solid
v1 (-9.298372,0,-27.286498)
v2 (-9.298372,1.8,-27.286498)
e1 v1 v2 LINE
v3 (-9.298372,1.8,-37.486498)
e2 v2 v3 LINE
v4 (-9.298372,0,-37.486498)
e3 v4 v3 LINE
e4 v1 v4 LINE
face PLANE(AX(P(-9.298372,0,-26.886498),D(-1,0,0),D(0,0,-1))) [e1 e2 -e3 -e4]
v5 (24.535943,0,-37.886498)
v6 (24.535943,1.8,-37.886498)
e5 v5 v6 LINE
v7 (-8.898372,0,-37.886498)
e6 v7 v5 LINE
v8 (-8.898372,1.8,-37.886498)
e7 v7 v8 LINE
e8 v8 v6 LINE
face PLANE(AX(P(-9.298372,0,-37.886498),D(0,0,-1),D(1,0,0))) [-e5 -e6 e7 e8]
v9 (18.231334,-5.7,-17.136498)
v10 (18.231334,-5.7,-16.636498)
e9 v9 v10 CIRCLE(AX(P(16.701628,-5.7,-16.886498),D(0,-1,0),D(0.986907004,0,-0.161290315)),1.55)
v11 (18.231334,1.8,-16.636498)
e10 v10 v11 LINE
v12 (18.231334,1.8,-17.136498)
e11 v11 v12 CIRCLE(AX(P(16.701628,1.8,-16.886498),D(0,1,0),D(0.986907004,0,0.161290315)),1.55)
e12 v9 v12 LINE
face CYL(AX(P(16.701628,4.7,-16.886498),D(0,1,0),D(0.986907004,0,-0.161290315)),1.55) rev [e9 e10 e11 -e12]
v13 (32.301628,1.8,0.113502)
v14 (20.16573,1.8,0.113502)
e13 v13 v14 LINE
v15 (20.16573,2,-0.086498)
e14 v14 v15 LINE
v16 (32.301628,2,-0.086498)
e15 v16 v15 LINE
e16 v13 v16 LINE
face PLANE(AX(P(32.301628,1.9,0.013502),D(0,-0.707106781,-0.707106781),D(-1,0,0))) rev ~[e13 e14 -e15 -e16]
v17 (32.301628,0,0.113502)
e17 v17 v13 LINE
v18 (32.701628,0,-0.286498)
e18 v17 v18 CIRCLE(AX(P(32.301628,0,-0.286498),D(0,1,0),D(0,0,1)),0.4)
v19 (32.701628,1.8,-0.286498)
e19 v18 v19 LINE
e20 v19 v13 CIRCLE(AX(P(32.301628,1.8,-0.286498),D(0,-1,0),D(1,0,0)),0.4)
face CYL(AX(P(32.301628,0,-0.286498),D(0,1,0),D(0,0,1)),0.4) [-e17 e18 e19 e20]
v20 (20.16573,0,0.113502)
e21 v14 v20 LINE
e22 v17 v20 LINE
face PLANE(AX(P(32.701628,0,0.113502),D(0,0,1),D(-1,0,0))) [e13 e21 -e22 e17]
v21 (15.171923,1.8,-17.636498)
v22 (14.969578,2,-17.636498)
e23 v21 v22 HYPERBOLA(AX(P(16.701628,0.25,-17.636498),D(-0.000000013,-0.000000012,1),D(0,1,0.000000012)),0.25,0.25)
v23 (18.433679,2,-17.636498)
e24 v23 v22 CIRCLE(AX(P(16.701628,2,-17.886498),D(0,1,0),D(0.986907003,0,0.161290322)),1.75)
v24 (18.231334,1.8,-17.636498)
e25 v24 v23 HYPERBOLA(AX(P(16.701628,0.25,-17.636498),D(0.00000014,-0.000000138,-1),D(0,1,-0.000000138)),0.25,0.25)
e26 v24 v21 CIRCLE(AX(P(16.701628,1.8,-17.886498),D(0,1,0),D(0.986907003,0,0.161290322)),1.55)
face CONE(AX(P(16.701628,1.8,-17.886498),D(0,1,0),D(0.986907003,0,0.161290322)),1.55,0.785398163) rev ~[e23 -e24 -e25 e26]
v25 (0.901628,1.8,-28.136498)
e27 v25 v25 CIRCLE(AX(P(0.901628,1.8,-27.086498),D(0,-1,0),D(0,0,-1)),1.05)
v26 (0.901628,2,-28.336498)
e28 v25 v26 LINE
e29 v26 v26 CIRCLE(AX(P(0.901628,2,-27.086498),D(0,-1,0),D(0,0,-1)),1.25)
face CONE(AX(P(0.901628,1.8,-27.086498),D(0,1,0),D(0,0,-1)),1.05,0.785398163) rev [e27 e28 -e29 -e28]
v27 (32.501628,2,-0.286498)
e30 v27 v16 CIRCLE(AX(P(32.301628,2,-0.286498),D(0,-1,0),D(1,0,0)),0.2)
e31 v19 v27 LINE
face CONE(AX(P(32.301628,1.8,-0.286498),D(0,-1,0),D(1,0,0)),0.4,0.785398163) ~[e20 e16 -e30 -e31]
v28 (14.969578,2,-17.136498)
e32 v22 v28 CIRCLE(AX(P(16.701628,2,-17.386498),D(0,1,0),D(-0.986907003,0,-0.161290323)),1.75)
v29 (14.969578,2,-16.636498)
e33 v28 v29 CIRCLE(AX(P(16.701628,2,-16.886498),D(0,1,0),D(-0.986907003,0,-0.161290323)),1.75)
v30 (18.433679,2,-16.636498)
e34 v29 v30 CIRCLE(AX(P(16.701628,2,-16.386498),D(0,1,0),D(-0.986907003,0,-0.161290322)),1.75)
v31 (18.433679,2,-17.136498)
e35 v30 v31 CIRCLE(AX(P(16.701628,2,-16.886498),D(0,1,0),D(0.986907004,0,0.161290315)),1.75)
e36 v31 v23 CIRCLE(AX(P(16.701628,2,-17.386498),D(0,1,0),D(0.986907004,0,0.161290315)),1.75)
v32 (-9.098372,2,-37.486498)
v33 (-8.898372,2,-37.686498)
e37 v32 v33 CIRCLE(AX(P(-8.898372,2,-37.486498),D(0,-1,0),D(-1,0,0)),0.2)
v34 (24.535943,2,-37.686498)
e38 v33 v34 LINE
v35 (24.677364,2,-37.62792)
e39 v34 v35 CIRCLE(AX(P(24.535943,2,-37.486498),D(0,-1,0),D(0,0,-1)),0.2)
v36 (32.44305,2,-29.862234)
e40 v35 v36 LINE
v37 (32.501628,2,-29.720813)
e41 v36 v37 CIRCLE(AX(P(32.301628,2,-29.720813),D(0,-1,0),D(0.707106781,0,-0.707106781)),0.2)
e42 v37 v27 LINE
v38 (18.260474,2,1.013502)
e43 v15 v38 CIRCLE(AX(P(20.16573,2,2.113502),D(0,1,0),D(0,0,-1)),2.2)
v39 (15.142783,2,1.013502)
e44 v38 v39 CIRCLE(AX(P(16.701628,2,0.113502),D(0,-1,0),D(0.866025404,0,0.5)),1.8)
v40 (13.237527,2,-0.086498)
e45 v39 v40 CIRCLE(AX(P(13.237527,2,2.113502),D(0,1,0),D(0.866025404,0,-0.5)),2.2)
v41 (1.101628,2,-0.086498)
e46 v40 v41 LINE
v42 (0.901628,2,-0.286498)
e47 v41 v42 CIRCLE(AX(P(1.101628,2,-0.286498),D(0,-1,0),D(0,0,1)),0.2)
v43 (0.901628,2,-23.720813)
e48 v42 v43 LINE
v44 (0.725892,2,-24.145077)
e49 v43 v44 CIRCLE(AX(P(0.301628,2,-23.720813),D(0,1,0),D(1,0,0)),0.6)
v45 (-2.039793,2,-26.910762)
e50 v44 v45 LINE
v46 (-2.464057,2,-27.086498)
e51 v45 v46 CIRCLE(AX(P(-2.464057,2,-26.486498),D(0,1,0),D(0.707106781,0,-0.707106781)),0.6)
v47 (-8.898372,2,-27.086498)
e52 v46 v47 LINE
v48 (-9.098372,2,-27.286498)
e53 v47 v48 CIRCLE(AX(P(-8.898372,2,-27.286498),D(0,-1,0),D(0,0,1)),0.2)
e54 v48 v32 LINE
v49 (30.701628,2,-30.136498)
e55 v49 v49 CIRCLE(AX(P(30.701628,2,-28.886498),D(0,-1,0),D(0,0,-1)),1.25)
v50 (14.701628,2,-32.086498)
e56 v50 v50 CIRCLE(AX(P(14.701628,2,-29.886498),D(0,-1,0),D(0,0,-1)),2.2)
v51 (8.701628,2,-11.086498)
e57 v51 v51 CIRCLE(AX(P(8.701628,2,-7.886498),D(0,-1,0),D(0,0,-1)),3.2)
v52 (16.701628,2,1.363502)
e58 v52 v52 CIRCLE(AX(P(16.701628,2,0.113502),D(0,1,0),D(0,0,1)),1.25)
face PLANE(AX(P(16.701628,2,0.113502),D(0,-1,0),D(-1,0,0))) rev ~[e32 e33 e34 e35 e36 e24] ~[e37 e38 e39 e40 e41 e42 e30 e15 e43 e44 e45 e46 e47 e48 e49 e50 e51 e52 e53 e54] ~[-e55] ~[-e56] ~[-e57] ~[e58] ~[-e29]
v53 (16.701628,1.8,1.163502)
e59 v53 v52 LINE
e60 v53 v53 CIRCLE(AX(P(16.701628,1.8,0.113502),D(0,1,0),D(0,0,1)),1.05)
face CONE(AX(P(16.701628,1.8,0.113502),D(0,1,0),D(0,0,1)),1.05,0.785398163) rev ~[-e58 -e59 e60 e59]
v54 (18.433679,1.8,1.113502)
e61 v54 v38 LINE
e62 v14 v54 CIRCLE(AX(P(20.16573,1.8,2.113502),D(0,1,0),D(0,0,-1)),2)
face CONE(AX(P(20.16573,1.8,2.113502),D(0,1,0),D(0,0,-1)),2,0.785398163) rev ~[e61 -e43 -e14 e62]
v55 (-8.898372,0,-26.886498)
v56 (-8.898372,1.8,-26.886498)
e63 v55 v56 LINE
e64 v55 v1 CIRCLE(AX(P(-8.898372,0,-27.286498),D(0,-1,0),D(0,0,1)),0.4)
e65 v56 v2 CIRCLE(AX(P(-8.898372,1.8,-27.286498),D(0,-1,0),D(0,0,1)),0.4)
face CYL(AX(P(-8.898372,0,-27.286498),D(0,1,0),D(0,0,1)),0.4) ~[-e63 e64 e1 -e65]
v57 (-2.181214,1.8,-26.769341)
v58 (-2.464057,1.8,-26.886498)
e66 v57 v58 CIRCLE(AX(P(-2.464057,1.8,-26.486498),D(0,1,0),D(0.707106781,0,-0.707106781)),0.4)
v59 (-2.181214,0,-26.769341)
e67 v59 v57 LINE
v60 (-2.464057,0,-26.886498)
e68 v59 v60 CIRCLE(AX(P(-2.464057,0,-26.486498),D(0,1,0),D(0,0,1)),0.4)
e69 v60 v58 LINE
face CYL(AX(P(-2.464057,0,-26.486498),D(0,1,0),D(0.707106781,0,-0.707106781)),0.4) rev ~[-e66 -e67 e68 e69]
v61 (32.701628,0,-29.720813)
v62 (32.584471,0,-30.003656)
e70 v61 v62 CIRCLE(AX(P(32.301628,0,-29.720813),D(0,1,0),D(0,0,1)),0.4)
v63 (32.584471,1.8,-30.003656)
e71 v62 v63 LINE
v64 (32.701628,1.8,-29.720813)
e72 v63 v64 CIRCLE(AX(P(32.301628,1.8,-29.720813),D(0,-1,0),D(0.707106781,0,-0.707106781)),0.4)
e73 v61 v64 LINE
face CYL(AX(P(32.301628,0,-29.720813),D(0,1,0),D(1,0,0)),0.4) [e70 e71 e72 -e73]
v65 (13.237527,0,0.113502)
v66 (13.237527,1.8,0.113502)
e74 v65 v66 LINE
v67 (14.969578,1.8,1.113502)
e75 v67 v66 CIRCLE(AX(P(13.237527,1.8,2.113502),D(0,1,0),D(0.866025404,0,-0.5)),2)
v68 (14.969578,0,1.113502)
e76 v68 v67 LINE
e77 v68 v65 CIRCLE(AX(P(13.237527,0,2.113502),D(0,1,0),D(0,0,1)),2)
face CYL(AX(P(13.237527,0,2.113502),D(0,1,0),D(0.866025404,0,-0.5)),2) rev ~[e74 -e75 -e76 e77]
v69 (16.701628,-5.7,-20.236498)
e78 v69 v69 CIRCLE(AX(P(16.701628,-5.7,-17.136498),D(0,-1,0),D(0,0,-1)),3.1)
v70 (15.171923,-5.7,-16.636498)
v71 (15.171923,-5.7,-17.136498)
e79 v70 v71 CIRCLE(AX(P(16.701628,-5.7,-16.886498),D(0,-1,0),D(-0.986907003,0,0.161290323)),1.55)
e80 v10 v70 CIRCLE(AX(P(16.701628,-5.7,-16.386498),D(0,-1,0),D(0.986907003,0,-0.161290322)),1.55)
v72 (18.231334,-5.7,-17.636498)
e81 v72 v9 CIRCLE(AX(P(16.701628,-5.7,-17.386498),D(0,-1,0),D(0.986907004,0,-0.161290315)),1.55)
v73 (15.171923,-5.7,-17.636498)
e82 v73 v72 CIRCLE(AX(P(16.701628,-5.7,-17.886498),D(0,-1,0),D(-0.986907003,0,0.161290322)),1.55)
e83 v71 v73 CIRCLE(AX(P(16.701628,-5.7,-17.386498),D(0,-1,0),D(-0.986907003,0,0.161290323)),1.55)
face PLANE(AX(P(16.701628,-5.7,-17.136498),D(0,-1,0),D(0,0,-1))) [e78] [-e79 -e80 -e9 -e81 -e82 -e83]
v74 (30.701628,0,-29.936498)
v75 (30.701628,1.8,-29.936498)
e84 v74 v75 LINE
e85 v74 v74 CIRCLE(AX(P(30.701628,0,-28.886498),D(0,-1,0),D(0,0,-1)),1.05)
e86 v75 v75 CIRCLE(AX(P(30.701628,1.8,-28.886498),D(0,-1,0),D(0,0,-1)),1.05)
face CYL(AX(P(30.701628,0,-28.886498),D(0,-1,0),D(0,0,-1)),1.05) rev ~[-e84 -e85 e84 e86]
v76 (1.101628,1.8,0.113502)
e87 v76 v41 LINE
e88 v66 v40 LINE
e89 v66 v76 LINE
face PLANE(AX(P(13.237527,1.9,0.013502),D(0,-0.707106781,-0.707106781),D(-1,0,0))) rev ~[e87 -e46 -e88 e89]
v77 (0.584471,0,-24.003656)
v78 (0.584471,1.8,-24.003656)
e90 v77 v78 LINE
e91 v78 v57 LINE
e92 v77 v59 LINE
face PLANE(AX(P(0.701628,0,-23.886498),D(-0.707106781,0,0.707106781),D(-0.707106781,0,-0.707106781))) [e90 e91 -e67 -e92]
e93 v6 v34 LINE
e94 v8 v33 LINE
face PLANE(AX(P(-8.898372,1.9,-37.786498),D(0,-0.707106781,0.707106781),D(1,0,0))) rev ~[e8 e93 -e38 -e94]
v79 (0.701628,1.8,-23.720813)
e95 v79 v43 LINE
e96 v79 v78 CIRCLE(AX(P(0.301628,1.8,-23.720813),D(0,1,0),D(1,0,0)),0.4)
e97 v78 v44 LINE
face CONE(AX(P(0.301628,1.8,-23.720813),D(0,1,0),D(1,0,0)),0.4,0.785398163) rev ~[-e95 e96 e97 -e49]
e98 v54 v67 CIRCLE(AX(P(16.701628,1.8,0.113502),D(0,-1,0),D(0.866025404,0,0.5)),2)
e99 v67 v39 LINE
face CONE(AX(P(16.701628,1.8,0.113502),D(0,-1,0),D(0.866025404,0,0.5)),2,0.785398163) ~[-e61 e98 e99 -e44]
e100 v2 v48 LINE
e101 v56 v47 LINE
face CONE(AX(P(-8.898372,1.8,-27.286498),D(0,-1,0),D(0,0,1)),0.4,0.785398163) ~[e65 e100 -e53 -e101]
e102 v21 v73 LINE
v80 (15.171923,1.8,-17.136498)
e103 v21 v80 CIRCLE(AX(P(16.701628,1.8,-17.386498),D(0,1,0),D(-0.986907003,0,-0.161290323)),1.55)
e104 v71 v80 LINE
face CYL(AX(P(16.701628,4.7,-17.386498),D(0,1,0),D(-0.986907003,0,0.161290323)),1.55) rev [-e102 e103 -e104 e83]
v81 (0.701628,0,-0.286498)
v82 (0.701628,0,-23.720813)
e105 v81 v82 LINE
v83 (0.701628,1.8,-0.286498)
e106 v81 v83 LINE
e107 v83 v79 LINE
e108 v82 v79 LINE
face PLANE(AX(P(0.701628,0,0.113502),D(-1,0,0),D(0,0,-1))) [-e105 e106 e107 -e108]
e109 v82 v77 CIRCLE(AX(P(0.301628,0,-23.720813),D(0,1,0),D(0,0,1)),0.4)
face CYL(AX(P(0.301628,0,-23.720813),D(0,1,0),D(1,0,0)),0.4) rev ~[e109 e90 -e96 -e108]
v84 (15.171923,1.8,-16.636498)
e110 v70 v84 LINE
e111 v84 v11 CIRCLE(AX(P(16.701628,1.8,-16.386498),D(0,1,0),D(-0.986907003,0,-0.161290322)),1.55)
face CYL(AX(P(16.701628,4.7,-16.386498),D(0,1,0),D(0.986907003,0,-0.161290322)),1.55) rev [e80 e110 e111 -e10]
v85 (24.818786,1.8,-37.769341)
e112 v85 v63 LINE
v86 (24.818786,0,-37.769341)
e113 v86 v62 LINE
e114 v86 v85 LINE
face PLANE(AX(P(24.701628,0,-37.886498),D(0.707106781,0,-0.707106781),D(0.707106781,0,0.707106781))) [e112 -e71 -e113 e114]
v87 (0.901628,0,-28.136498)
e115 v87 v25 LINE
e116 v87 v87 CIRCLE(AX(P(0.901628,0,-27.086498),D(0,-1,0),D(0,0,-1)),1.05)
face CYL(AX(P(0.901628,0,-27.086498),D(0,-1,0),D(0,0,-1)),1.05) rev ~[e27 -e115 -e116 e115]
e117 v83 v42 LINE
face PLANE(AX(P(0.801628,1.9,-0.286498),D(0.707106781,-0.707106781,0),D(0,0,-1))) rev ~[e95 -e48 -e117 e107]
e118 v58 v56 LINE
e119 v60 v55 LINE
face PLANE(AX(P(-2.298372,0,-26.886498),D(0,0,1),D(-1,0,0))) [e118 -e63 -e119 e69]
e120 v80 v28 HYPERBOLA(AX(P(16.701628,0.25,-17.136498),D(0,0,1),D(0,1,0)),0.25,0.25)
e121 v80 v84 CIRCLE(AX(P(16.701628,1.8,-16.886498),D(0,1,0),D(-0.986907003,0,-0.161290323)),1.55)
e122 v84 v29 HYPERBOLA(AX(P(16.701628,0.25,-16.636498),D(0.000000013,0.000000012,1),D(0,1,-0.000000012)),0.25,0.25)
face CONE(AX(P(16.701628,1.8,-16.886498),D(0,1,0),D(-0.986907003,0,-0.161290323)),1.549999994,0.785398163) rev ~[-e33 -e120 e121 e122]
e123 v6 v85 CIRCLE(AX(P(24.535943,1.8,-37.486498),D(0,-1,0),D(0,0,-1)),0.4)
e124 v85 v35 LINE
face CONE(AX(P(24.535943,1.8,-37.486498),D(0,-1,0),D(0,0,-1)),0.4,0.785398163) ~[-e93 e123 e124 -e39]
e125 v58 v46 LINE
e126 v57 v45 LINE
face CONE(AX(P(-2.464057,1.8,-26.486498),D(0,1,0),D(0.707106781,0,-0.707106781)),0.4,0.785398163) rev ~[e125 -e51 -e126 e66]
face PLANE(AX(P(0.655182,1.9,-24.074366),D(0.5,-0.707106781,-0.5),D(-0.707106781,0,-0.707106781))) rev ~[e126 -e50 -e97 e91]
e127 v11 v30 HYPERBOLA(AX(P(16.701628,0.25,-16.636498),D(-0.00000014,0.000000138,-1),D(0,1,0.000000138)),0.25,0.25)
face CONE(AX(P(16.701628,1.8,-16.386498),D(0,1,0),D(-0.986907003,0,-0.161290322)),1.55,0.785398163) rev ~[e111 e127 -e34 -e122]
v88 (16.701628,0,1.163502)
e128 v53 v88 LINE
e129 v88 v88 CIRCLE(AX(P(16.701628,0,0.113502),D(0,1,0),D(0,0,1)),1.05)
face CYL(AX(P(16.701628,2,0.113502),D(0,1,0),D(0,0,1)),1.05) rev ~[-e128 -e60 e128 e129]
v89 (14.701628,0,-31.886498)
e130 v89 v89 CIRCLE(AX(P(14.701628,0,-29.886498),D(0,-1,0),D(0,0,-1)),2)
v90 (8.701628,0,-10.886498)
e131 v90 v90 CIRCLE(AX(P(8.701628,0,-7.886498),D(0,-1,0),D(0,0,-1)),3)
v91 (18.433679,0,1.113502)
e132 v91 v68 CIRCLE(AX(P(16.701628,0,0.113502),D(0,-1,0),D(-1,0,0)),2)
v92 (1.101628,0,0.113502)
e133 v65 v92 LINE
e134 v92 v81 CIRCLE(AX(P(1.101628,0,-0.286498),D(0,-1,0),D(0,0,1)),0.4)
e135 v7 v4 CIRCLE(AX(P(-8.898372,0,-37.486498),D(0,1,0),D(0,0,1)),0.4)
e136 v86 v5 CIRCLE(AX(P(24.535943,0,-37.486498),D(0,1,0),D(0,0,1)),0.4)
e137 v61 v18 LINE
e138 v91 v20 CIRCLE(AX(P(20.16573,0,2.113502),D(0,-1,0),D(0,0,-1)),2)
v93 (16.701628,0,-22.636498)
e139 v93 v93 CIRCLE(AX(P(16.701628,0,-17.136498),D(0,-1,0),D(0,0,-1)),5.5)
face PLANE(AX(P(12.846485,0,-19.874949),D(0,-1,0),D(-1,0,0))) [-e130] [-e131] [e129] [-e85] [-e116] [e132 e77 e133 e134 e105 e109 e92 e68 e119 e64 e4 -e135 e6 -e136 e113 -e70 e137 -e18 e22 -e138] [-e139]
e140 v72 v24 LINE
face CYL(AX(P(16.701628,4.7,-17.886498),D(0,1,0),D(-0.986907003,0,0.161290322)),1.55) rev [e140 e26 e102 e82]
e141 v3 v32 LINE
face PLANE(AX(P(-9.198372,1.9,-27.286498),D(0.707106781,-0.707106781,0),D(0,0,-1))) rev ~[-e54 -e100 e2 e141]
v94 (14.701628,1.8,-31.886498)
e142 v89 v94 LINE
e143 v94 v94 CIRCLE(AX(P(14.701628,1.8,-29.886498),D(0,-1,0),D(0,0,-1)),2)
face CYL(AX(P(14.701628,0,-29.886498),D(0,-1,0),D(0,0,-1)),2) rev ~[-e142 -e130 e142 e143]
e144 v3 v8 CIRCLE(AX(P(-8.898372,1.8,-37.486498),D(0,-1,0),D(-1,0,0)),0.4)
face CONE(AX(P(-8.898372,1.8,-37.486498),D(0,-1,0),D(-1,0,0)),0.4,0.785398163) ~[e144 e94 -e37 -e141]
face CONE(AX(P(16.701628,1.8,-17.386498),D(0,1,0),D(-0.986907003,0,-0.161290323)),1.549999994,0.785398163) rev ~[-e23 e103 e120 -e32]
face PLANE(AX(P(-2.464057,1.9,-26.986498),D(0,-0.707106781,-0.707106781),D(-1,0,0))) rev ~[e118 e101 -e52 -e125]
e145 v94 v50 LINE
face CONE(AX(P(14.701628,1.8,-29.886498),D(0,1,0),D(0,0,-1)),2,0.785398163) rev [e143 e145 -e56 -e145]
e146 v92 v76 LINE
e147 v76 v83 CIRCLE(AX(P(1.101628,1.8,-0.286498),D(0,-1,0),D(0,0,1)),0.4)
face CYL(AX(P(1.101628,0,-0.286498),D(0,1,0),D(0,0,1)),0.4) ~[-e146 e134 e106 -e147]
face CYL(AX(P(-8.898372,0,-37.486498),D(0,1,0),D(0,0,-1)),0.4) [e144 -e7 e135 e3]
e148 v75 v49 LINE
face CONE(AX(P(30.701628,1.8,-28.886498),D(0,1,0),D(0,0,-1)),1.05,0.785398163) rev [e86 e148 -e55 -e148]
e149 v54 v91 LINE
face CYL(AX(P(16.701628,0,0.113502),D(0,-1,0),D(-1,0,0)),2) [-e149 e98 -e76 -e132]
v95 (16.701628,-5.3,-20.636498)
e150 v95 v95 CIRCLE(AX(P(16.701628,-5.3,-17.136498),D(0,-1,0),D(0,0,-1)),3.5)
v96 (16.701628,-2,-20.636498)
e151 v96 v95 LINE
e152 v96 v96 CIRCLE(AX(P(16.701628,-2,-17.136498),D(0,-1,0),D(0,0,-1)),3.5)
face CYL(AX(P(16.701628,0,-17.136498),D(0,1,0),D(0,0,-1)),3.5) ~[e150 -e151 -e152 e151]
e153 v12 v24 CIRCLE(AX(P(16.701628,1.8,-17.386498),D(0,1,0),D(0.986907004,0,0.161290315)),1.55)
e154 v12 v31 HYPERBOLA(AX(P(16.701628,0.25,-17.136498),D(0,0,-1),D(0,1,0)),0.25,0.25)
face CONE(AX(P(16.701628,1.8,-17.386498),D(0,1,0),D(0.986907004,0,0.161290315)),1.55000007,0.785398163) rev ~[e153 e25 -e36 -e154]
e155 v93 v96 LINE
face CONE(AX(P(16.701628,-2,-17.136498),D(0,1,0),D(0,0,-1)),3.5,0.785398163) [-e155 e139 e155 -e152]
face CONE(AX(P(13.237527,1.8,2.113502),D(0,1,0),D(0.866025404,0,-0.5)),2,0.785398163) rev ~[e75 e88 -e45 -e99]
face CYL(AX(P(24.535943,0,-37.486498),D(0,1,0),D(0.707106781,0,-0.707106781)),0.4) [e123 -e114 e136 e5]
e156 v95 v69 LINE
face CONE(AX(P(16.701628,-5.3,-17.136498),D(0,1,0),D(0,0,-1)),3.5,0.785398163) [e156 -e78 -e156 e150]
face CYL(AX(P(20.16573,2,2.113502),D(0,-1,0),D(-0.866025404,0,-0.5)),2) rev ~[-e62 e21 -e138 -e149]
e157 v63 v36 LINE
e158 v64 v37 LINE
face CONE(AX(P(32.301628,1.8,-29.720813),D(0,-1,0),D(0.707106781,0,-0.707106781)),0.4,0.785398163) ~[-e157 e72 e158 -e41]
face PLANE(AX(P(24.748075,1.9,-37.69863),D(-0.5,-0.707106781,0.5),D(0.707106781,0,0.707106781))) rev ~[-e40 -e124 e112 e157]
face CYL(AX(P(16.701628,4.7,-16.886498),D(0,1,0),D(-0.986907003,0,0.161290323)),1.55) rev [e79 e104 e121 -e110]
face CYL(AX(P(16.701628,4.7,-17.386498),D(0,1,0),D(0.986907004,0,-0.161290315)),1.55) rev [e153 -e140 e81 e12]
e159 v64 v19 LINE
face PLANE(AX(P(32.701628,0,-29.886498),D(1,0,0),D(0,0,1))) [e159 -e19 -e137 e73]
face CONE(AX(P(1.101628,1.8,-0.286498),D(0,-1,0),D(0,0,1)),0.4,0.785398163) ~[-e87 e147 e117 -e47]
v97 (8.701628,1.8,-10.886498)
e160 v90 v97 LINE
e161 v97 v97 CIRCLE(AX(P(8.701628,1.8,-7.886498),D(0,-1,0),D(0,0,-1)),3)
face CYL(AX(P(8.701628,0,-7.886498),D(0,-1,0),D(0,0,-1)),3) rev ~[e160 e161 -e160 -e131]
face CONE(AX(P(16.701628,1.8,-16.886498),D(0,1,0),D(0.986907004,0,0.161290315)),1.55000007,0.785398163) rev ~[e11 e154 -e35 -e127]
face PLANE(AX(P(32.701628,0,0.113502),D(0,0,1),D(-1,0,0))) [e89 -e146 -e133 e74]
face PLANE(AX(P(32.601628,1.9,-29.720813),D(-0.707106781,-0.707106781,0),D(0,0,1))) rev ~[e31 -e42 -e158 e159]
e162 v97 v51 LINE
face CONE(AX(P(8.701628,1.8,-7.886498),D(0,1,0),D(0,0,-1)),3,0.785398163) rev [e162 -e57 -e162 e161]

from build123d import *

# Parameters (mm, degrees)
EXTRUDE_1_DEPTH     = 2
SKETCH_2_R          = 3.5
EXTRUDE_2_DEPTH     = 5.7
CUT_EXTRUDE_START   = -4.7
CUT_EXTRUDE_1_DEPTH = 4.7
SKETCH_5_R          = 1.05
CUT_EXTRUDE_2_DEPTH = 10
SKETCH_6_R          = 2
EXTRUDE_3_DEPTH     = 2
FILLET_1_R          = 2
SKETCH_7_R          = 1.05
CUT_EXTRUDE_3_DEPTH = 2
FILLET_2_R          = 0.4
CHAMFER_1_SIZE      = 2
CHAMFER_2_SIZE      = 0.4
SKETCH_8_R          = 3
SKETCH_8_R_2        = 2
CUT_EXTRUDE_5_DEPTH = 51.37135361
CHAMFER_3_SIZE      = 0.2


with BuildPart() as part:
    # 草图1 → 凸台-拉伸1 (new body)
    with BuildSketch(Plane(origin=(0, 0, 0), x_dir=(1, 0, 0), z_dir=(0, 1, 0))):
        Polygon((0.701628422, -0.113501573), (0.701628422, 23.886498427), (-2.298371578, 26.886498427), (-9.298371578, 26.886498427), (-9.298371578, 37.886498427), (24.701628422, 37.886498427), (32.701628422, 29.886498427), (32.701628422, -0.113501573), align=None)
    extrude(amount=EXTRUDE_1_DEPTH)

    # 草图2 → 凸台-拉伸2 (add)
    with BuildSketch(Plane.XZ):
        with Locations(Location((16.701628422, -17.136498427, 0), (0, 0, 270))):
            Circle(SKETCH_2_R)
        with BuildLine():
            ThreePointArc((15.171922568, -17.636498427), (16.701628422, -19.436498427), (18.231334277, -17.636498427))
            ThreePointArc((18.231334277, -17.636498427), (18.251628422, -17.386498427), (18.231334277, -17.136498427))
            ThreePointArc((18.231334277, -17.136498427), (18.251628422, -16.886498427), (18.231334277, -16.636498427))
            ThreePointArc((18.231334277, -16.636498427), (16.701628422, -14.836498427), (15.171922568, -16.636498427))
            ThreePointArc((15.171922568, -16.636498427), (15.151628422, -16.886498427), (15.171922568, -17.136498427))
            ThreePointArc((15.171922568, -17.136498427), (15.151628422, -17.386498427), (15.171922568, -17.636498427))
        make_face(mode=Mode.SUBTRACT)
    extrude(amount=EXTRUDE_2_DEPTH)

    # 草图3 → 切除-拉伸1 (cut)
    with BuildSketch(Plane.XZ.offset(CUT_EXTRUDE_START)):
        with BuildLine():
            ThreePointArc((15.171922568, -17.136498427), (15.151628422, -17.386498427), (15.171922568, -17.636498427))
            ThreePointArc((15.171922568, -17.636498427), (16.701628422, -19.436498427), (18.231334277, -17.636498427))
            ThreePointArc((18.231334277, -17.636498427), (18.251628422, -17.386498427), (18.231334277, -17.136498427))
            ThreePointArc((18.231334277, -17.136498427), (18.251628422, -16.886498427), (18.231334277, -16.636498427))
            ThreePointArc((18.231334277, -16.636498427), (16.701628422, -14.836498427), (15.171922568, -16.636498427))
            ThreePointArc((15.171922568, -16.636498427), (15.151628422, -16.886498427), (15.171922568, -17.136498427))
        make_face()
    extrude(amount=CUT_EXTRUDE_1_DEPTH, mode=Mode.SUBTRACT)

    # 草图5 → 切除-拉伸2 (cut)
    with BuildSketch(Plane.XZ):
        with Locations(Location((30.701628422, -28.886498427, 0), (0, 0, 270))):
            Circle(SKETCH_5_R)
        with Locations(Location((0.901628422, -27.086498427, 0), (0, 0, 270))):
            Circle(SKETCH_5_R)
    extrude(amount=-CUT_EXTRUDE_2_DEPTH, mode=Mode.SUBTRACT)

    # 草图6 → 凸台-拉伸3 (add)
    with BuildSketch(Plane(origin=(0, 0, 0), x_dir=(-1, 0, 0), z_dir=(0, -1, 0))):
        with Locations((-16.701628422, -0.113501573)):
            Circle(SKETCH_6_R)
    extrude(amount=-EXTRUDE_3_DEPTH)

    # 圆角1
    fillet_1_edges = [part.edges().sort_by_distance(p)[0] for p in [
        (18.701628422, 1, 0.113501573),
        (14.701628422, 1, 0.113501573),
    ]]
    fillet(fillet_1_edges, radius=FILLET_1_R)

    # 草图7 → 切除-拉伸3 (cut)
    with BuildSketch(Plane(origin=(0, 2, 0), x_dir=(1, 0, 0), z_dir=(0, 1, 0))):
        with Locations(Location((16.701628422, -0.113501573, 0), (0, 0, 270))):
            Circle(SKETCH_7_R)
    extrude(amount=-CUT_EXTRUDE_3_DEPTH, mode=Mode.SUBTRACT)

    # 圆角2
    fillet_2_edges = [part.edges().sort_by_distance(p)[0] for p in [
        (0.701628422, 1, 0.113501573),
        (0.701628422, 1, -23.886498427),
        (-2.298371578, 1, -26.886498427),
        (-9.298371578, 1, -26.886498427),
        (-9.298371578, 1, -37.886498427),
        (24.701628422, 1, -37.886498427),
        (32.701628422, 1, -29.886498427),
        (32.701628422, 1, 0.113501573),
    ]]
    fillet(fillet_2_edges, radius=FILLET_2_R)

    # 倒角1
    chamfer_1_edges = [part.edges().sort_by_distance(p)[0] for p in [
        (16.701628422, 0, -13.636498427),
    ]]
    chamfer(chamfer_1_edges, length=CHAMFER_1_SIZE)

    # 倒角2
    chamfer_2_edges = [part.edges().sort_by_distance(p)[0] for p in [
        (16.701628422, -5.7, -13.636498427),
    ]]
    chamfer(chamfer_2_edges, length=CHAMFER_2_SIZE)

    # 草图8 → 切除-拉伸5 (cut, through all)
    with BuildSketch(Plane.XZ):
        with Locations(Location((8.701628422, -7.886498427, 0), (0, 0, 270))):
            Circle(SKETCH_8_R)
        with Locations(Location((14.701628422, -29.886498427, 0), (0, 0, 270))):
            Circle(SKETCH_8_R_2)
    extrude(amount=-CUT_EXTRUDE_5_DEPTH, mode=Mode.SUBTRACT)

    # 倒角3
    chamfer_3_edges = [part.edges().sort_by_distance(p)[0] for p in [
        (26.23367923, 2, 0.113501573),
        (16.701628422, 2, 2.113501573),
        (19.165730038, 2, 0.381450765),
        (14.237526807, 2, 0.381450765),
        (16.701628422, 2, -0.936498427),
        (7.81878571, 2, -37.886498427),
        (28.701628422, 2, -33.886498427),
        (7.169577615, 2, 0.113501573),
        (32.701628422, 2, -15.003655715),
        (-9.298371578, 2, -32.386498427),
        (-5.68121429, 2, -26.886498427),
        (-0.798371578, 2, -25.386498427),
        (0.701628422, 2, -12.003655715),
        (-9.18121429, 2, -27.003655715),
        (-9.18121429, 2, -37.769341139),
        (0.81878571, 2, -0.003655715),
        (32.584471135, 2, -0.003655715),
        (32.671180235, 2, -29.873886375),
        (24.68901637, 2, -37.85605024),
        (0.671180235, 2, -23.873886375),
        (-2.31098363, 2, -26.85605024),
        (8.701628422, 2, -4.886498427),
        (14.701628422, 2, -27.886498427),
        (16.701628422, 2, -19.436498427),
        (18.251628422, 2, -17.386498427),
        (18.251628422, 2, -16.886498427),
        (16.701628422, 2, -14.836498427),
        (15.151628422, 2, -16.886498427),
        (15.151628422, 2, -17.386498427),
        (30.701628422, 2, -27.836498427),
        (0.901628422, 2, -26.036498427),
    ]]
    chamfer(chamfer_3_edges, length=CHAMFER_3_SIZE)


solid = part.part
